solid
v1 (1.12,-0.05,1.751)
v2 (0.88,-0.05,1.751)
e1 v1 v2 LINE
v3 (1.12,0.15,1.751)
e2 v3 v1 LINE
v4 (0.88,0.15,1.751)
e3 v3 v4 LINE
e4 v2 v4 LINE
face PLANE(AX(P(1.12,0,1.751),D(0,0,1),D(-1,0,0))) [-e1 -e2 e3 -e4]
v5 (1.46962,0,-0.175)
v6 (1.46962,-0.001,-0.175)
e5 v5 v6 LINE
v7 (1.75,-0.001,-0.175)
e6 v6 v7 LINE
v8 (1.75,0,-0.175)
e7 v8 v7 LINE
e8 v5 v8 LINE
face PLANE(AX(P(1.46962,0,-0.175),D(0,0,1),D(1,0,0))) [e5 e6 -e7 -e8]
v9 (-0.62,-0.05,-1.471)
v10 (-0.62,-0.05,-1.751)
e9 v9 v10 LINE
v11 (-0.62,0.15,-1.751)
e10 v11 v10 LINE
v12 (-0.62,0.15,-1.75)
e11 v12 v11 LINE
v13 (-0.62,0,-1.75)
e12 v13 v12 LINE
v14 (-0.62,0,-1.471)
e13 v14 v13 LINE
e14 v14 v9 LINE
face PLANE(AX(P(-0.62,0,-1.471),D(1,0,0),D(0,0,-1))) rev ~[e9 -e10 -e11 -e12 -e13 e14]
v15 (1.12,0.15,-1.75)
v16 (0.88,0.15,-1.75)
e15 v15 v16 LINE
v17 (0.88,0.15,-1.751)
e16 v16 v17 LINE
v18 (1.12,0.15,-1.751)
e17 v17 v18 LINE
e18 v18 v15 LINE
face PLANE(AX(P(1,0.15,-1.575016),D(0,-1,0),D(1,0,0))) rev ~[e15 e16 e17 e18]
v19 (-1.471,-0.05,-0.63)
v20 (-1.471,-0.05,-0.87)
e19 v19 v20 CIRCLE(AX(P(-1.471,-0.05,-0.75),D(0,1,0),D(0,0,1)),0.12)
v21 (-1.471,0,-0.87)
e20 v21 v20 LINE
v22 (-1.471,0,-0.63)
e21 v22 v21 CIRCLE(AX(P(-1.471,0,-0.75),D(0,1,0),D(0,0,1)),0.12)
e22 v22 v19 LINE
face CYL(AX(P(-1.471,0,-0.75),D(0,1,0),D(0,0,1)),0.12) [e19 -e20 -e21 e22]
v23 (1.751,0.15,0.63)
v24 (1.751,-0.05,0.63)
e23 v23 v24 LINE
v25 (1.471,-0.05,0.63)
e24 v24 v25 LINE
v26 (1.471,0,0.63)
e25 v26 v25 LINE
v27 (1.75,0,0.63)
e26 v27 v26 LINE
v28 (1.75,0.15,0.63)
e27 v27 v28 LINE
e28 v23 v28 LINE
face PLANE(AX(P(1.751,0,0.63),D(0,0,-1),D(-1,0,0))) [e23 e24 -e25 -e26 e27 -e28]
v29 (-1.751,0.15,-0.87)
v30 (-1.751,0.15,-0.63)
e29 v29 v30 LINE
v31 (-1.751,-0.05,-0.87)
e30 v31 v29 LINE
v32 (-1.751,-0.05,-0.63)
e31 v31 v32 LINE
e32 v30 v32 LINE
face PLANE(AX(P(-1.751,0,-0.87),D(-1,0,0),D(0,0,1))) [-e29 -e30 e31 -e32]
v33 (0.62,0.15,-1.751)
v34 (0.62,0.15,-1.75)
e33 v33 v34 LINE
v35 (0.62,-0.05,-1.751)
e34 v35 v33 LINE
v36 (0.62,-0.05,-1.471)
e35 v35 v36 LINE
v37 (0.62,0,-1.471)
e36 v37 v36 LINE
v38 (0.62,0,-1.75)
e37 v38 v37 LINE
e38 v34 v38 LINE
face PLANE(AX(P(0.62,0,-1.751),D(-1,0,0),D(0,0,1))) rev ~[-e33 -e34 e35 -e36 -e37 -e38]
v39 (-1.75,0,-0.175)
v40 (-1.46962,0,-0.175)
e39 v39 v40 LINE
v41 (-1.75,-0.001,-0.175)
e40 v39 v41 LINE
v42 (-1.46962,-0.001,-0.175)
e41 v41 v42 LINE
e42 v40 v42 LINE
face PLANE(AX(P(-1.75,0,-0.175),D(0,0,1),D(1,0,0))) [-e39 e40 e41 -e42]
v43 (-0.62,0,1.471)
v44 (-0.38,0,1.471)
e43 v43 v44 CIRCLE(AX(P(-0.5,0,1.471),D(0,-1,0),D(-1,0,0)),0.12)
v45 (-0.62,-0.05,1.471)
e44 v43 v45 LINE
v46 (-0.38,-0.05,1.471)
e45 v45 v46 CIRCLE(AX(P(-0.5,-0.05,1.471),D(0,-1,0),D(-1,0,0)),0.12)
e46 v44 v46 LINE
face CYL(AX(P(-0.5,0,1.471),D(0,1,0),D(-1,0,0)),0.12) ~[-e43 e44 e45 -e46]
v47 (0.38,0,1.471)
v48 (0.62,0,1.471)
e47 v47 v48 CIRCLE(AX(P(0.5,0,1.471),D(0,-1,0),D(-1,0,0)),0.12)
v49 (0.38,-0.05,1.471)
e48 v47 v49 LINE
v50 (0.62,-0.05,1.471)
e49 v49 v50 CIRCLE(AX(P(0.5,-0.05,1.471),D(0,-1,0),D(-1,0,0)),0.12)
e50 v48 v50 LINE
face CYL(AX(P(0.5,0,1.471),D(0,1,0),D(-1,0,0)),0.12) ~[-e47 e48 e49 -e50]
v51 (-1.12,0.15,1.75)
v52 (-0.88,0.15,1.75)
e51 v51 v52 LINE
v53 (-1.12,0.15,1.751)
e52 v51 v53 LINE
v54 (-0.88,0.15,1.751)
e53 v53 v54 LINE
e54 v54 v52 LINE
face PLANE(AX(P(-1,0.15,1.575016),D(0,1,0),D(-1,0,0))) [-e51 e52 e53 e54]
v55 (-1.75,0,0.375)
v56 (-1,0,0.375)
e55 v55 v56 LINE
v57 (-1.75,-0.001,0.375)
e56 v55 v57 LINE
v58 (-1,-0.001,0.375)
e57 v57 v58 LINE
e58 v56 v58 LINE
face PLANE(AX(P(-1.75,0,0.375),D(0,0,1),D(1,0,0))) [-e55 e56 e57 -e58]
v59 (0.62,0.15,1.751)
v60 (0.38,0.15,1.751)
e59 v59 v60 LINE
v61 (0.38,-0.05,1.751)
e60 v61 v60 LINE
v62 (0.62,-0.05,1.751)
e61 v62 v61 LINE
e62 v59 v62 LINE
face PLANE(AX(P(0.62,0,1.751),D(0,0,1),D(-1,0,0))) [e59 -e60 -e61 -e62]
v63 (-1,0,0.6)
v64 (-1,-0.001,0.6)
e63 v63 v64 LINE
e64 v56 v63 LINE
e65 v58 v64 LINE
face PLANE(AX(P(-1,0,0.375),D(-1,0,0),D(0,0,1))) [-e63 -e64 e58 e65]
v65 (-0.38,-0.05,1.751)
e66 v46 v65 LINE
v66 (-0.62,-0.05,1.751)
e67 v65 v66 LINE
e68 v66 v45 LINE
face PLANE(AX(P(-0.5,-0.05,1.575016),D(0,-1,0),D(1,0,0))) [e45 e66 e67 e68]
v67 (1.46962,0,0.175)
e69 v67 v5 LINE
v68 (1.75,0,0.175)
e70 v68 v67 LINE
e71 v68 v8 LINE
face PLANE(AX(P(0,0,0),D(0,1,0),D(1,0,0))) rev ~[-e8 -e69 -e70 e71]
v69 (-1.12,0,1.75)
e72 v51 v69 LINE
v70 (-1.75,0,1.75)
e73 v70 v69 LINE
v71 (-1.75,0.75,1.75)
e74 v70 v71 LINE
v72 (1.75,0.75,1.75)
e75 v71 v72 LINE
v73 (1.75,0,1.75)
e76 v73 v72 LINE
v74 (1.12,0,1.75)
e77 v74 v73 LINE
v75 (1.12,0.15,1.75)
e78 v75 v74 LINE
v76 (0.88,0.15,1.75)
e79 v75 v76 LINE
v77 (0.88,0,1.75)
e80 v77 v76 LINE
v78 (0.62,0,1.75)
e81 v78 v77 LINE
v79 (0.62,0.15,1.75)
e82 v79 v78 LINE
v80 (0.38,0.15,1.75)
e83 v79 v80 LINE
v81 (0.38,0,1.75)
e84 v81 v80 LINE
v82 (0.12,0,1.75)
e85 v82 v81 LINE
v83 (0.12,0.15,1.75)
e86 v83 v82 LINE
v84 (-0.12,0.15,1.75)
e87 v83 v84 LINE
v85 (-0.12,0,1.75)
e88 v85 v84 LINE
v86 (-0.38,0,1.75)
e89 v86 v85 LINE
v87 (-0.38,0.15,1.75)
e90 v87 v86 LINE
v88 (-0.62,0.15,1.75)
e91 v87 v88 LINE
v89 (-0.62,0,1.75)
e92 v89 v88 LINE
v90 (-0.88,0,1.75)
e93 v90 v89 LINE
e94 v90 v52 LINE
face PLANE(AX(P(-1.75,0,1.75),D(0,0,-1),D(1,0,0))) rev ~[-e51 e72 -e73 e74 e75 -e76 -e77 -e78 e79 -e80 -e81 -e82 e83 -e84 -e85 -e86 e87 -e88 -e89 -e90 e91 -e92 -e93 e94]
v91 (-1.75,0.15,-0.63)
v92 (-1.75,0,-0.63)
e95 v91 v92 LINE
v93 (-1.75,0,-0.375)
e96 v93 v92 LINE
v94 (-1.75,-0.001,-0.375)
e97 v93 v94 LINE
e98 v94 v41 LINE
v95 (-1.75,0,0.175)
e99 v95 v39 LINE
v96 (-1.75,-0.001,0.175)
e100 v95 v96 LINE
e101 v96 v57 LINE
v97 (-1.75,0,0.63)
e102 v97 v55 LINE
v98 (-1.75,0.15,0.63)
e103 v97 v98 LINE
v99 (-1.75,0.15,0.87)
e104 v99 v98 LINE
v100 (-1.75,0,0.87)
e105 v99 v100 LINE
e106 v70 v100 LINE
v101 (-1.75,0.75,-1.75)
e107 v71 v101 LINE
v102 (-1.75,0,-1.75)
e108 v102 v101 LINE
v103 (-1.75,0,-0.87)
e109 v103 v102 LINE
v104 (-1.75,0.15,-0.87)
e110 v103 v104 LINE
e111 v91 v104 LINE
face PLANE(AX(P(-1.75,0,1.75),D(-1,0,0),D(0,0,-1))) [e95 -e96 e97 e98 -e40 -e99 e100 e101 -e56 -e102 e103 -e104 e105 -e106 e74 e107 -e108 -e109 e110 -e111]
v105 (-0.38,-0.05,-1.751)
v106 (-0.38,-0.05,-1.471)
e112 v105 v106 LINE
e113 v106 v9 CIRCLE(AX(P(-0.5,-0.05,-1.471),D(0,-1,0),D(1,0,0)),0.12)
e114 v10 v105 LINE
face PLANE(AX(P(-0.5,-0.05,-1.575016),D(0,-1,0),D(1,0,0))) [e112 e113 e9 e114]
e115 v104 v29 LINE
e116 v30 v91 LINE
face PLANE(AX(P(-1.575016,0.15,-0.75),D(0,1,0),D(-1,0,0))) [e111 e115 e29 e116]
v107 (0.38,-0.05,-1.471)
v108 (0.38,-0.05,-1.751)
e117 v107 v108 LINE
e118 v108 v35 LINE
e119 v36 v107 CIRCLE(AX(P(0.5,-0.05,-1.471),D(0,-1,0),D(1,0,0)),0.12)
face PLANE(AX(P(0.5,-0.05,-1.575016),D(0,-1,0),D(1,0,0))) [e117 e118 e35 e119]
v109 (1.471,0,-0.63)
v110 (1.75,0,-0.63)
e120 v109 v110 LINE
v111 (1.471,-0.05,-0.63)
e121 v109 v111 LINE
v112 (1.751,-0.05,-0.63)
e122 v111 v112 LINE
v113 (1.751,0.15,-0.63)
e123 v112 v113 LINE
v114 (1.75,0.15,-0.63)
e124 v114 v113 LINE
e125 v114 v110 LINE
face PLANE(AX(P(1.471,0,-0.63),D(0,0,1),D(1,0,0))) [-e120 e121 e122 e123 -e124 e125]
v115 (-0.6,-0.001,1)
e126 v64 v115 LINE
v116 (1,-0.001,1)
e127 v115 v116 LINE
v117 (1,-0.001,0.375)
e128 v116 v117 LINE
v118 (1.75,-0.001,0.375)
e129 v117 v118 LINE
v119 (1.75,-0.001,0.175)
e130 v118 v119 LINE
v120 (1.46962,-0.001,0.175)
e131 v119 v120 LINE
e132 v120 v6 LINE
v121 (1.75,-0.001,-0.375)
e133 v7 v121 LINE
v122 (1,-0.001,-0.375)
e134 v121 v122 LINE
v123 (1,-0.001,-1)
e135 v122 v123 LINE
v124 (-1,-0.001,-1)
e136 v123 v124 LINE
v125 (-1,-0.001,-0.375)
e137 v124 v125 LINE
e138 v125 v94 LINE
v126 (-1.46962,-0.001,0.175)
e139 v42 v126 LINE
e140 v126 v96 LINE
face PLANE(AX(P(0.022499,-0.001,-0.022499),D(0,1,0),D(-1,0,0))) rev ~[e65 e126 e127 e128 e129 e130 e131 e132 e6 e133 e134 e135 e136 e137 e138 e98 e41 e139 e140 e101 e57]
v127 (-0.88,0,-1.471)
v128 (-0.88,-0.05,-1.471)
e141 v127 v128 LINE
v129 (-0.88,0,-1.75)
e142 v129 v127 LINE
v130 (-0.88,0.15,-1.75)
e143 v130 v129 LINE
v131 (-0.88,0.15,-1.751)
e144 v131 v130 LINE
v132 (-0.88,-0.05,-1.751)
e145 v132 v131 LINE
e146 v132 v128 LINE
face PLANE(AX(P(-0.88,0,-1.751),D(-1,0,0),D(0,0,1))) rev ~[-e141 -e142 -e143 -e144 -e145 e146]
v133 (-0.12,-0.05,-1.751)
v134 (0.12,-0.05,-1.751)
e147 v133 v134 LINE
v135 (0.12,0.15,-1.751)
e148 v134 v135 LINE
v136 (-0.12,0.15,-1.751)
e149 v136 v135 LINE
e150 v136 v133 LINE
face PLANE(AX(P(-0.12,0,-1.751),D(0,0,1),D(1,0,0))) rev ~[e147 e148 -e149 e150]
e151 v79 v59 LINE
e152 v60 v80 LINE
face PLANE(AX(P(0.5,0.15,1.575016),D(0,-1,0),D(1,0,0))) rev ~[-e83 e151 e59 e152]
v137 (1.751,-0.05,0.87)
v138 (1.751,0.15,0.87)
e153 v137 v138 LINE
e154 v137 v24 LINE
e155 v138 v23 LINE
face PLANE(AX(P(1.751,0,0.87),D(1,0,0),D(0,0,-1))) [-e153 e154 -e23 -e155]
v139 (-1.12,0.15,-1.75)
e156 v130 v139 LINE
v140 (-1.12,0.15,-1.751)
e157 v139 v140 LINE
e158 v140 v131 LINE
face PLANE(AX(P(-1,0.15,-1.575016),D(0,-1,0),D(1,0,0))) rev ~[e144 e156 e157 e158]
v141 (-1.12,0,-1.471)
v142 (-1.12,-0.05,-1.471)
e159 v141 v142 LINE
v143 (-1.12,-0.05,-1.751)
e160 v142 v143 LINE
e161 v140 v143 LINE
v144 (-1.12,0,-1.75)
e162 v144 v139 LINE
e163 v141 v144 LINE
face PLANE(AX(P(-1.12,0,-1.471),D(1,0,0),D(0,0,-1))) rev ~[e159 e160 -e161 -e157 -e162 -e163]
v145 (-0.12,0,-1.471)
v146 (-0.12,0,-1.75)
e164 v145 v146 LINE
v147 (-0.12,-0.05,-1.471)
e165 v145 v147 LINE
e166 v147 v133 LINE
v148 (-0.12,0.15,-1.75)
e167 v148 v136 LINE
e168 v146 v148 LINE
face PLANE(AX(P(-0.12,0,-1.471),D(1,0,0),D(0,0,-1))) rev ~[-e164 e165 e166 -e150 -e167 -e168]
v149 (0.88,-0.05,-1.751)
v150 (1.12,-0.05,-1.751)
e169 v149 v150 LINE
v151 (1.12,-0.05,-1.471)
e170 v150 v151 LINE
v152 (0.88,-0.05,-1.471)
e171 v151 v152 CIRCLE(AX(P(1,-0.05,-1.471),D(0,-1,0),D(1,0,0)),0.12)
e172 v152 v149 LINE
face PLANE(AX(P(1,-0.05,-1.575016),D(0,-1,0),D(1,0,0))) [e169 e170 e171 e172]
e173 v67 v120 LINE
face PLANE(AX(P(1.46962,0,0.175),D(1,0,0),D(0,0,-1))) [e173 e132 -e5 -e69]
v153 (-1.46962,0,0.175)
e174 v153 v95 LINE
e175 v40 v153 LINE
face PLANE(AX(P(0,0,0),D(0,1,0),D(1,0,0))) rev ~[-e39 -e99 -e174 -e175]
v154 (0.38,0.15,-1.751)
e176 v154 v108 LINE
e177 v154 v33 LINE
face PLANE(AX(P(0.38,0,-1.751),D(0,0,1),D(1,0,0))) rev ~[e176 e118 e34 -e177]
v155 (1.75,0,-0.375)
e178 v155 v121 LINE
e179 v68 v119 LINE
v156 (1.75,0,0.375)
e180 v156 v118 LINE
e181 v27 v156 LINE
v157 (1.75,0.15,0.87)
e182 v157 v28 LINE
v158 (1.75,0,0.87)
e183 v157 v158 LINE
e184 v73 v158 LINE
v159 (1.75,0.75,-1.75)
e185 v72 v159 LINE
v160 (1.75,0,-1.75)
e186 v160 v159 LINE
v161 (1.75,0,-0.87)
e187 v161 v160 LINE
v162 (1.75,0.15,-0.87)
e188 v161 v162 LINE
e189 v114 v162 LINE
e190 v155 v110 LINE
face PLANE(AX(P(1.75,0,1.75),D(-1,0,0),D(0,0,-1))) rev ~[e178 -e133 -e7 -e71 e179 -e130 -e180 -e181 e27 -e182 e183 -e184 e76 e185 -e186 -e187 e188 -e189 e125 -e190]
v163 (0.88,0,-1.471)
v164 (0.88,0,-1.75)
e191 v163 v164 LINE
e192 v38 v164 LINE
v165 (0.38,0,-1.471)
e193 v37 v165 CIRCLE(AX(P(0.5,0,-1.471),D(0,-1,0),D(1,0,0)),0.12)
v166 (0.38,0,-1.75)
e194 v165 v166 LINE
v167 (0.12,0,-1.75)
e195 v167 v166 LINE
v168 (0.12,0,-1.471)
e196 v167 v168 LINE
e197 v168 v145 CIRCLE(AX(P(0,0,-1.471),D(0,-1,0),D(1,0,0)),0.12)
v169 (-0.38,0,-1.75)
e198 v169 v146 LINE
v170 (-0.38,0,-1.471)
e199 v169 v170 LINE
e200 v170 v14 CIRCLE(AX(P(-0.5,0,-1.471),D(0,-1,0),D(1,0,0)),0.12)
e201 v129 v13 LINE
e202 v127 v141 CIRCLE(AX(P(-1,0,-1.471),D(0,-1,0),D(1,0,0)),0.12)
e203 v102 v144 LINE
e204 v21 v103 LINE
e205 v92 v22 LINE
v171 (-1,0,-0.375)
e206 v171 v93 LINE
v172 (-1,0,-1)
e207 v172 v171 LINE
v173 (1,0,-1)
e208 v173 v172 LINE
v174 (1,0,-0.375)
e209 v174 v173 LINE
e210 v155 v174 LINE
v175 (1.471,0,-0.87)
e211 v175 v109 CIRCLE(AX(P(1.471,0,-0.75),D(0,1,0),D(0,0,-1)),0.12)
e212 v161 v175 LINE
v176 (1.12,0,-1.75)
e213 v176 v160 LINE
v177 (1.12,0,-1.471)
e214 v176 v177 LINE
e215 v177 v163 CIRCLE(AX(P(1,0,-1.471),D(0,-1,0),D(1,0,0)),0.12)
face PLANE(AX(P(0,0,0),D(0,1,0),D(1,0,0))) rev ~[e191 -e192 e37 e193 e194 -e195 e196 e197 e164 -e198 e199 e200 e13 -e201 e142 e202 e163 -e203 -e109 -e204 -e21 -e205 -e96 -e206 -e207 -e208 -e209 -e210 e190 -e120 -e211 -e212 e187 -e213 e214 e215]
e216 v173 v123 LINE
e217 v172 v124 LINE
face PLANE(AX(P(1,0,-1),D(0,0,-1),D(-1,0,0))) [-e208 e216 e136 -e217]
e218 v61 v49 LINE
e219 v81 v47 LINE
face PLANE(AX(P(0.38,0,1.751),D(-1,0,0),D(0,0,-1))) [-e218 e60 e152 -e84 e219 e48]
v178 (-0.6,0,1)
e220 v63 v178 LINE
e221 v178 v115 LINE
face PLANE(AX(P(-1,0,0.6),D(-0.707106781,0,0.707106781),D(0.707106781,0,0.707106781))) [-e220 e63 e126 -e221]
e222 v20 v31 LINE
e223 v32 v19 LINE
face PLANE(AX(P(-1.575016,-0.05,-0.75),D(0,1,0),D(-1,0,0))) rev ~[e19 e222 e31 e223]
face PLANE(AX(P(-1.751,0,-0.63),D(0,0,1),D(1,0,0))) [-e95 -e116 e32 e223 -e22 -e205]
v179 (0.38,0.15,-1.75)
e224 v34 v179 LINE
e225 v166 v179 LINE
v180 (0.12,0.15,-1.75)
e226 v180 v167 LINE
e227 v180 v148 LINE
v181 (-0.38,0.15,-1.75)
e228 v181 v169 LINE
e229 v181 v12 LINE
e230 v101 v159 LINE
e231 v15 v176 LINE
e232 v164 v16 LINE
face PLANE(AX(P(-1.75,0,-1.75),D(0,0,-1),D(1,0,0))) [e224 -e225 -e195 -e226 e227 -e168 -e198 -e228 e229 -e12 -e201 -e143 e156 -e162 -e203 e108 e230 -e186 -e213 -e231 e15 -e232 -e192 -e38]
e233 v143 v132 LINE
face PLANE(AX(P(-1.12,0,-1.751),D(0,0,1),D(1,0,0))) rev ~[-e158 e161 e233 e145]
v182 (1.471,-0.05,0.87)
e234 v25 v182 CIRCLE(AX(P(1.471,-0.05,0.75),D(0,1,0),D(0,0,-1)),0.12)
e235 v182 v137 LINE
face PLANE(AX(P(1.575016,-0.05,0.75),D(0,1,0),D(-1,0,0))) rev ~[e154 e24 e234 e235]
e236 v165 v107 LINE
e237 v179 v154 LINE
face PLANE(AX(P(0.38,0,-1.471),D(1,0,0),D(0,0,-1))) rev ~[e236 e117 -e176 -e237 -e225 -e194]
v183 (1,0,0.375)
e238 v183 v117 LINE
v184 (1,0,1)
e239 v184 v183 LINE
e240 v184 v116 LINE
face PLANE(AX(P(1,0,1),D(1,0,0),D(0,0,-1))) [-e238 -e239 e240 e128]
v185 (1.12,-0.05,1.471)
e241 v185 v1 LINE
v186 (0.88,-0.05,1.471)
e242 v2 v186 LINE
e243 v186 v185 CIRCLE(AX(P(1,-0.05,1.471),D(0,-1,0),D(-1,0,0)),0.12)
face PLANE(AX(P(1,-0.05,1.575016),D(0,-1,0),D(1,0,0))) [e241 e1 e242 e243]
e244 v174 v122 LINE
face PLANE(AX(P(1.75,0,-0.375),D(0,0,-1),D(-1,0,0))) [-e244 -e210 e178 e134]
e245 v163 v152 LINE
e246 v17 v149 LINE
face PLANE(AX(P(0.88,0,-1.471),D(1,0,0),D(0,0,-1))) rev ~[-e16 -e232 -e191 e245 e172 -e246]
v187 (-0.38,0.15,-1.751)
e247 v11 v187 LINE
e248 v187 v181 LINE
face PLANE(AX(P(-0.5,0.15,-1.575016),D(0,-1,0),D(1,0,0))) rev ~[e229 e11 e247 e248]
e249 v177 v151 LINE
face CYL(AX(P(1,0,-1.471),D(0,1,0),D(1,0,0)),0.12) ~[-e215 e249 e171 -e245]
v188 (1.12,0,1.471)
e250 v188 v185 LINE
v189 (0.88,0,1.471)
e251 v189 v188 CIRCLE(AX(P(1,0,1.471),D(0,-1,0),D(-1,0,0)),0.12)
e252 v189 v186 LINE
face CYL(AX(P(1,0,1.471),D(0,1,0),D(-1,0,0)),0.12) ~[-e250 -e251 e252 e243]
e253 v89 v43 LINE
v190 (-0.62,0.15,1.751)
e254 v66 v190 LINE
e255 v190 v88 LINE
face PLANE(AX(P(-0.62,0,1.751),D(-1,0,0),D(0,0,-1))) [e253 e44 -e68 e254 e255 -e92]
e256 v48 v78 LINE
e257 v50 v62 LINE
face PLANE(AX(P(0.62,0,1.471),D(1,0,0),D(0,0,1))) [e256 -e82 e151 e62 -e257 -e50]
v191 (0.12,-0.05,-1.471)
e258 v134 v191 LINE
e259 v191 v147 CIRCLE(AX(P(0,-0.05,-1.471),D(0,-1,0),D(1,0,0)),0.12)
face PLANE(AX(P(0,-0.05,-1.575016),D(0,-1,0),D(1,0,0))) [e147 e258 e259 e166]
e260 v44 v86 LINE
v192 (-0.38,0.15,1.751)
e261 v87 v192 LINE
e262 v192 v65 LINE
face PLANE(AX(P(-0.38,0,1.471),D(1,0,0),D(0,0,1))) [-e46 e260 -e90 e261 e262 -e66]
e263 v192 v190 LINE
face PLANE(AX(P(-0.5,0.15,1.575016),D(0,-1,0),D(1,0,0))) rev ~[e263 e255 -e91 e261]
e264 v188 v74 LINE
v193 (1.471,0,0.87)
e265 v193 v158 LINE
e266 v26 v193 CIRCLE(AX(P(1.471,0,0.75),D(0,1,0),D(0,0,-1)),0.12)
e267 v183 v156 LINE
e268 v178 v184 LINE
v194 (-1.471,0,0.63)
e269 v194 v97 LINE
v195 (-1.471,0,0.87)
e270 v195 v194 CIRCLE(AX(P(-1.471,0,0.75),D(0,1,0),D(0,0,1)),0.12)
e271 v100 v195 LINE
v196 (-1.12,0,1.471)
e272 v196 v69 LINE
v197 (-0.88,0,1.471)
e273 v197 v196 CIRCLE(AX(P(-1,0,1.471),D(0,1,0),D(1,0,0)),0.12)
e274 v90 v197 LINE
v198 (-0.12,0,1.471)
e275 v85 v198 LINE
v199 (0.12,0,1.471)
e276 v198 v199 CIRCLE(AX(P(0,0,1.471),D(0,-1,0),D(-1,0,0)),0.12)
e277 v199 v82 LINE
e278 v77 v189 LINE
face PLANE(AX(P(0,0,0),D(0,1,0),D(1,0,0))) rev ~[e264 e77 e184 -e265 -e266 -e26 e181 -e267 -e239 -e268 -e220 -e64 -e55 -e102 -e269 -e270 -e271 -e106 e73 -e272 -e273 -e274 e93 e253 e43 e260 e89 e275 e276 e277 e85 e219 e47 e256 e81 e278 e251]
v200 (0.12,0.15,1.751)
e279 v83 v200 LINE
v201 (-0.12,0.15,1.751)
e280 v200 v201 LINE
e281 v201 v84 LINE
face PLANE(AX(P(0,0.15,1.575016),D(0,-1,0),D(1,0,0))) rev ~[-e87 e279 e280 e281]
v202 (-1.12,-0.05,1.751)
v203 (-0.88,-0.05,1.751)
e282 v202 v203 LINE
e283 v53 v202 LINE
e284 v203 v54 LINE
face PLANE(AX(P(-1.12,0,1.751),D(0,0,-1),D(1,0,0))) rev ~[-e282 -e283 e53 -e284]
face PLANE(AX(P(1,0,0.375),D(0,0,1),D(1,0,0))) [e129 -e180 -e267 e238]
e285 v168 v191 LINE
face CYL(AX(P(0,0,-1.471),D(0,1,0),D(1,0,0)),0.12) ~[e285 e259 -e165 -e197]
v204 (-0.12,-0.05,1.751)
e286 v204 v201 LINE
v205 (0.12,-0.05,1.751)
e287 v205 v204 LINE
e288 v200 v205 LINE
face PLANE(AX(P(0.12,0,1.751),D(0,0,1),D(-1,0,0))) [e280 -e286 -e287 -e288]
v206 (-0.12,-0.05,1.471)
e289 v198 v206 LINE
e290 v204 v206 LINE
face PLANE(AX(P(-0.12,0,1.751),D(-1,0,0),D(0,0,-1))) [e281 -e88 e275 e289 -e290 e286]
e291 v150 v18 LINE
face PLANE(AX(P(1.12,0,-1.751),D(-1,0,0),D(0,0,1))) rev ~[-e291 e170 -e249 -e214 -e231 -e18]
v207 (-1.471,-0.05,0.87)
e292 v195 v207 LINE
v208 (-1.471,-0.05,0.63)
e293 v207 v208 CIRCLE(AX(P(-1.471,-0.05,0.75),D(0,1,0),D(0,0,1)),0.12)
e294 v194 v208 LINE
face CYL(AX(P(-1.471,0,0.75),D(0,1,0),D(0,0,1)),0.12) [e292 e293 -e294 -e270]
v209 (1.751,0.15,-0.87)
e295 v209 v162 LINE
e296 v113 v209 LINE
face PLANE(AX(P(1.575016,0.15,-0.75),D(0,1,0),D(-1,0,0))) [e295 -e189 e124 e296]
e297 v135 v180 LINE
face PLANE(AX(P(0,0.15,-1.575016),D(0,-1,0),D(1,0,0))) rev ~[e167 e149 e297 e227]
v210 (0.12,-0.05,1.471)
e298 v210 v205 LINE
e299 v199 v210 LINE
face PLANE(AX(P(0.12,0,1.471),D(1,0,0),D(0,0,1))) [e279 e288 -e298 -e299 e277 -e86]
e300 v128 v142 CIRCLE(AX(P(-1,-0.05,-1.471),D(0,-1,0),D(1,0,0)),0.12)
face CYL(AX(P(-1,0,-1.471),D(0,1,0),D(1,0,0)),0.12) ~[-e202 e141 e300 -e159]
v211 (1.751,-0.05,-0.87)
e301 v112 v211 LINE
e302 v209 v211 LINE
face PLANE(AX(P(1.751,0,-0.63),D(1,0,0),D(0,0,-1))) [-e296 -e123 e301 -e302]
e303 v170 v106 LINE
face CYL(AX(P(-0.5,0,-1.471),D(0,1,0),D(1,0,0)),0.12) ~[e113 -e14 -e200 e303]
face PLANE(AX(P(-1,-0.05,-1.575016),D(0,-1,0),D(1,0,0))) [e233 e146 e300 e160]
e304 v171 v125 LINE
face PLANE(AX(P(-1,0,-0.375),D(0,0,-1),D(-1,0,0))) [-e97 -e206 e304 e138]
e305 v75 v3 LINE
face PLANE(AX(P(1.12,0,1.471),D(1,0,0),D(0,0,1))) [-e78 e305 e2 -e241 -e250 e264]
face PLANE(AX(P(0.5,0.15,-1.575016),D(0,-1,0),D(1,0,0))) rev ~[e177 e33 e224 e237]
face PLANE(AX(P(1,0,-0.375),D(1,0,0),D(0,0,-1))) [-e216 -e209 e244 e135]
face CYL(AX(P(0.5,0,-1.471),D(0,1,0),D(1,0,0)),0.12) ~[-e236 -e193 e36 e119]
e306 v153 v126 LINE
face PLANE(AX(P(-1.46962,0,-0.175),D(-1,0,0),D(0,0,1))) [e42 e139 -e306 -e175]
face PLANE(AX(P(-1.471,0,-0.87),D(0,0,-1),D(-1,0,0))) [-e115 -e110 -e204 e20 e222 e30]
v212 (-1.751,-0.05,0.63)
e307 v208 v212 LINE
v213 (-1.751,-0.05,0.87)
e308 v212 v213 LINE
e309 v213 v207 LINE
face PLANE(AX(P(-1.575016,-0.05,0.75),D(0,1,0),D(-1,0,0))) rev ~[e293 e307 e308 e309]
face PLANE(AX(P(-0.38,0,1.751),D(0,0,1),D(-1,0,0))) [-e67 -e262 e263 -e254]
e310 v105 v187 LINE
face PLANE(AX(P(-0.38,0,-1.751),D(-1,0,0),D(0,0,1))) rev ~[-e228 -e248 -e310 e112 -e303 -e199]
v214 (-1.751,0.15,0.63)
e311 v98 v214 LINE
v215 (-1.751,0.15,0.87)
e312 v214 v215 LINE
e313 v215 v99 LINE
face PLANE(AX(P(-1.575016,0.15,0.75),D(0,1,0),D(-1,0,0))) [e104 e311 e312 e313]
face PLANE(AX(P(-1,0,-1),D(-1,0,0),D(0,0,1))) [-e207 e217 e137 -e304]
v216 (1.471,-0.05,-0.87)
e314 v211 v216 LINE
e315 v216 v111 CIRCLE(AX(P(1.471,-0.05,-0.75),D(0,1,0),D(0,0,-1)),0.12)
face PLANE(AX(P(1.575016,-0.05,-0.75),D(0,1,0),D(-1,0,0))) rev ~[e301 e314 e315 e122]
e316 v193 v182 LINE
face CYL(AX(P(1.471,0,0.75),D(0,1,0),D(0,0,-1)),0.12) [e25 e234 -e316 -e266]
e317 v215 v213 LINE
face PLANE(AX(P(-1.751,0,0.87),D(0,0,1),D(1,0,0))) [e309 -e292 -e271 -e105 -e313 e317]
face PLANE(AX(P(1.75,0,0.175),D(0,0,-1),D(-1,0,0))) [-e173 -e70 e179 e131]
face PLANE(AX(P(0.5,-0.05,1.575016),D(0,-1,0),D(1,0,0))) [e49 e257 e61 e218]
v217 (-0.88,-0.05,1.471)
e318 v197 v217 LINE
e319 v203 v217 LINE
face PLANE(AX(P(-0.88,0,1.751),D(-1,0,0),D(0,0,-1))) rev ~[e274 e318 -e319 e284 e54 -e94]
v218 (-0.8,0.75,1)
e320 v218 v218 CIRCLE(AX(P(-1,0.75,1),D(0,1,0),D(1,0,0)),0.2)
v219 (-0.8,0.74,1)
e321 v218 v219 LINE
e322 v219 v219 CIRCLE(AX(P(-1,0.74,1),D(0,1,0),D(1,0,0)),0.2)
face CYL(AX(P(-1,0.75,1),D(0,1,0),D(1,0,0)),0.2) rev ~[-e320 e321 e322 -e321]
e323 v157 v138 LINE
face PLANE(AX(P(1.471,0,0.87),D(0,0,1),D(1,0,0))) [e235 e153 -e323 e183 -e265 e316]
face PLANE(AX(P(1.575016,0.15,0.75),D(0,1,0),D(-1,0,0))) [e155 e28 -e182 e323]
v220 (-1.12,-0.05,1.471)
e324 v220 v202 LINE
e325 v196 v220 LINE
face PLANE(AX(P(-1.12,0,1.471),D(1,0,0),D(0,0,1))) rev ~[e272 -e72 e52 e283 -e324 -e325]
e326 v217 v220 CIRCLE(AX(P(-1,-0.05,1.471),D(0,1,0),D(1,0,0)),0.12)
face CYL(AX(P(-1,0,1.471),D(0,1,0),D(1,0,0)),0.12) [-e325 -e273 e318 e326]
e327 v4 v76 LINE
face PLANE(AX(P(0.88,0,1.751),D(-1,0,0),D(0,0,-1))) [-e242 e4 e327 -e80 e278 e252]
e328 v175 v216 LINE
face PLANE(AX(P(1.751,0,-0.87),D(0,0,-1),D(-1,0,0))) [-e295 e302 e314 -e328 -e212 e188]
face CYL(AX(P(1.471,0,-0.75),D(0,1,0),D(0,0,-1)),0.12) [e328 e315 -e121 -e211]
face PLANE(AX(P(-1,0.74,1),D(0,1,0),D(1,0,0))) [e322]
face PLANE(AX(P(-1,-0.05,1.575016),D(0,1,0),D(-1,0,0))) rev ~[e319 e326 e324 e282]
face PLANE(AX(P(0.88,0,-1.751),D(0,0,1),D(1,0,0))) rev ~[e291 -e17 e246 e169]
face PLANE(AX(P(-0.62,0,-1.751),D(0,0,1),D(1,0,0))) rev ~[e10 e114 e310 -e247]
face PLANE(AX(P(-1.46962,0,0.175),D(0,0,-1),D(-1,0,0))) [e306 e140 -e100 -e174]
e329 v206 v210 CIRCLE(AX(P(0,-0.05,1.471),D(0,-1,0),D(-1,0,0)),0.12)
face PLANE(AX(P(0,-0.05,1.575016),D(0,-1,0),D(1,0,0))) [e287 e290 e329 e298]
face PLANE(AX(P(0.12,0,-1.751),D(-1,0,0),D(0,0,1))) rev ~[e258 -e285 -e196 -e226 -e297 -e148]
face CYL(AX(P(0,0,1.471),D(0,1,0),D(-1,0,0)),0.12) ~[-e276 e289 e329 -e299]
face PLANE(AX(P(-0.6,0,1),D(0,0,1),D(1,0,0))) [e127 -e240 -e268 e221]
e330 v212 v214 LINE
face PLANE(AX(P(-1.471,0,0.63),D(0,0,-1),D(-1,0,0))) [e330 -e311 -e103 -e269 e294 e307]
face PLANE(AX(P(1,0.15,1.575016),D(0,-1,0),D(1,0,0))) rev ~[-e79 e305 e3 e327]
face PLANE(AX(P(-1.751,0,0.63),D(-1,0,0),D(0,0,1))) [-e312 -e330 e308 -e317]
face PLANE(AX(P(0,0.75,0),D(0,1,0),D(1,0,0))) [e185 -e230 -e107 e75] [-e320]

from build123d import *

# Parameters (mm, degrees)
SKETCH1_W                = 3.5
SKETCH1_H                = 3.5
BOSS_EXTRUDE1_DEPTH      = 0.75
SKETCH2_R                = 0.2
CUT_EXTRUDE1_DEPTH       = 0.01
BOSS_EXTRUDE2_DEPTH      = 0.05
BOSS_EXTRUDE2_DEPTH_BACK = 0.15
BOSS_EXTRUDE3_DEPTH      = 0.001


with BuildPart() as part:
    # Sketch1 → Boss-Extrude1 (new body)
    with BuildSketch(Plane(origin=(0, 0, 0), x_dir=(1, 0, 0), z_dir=(0, 1, 0))):
        Rectangle(SKETCH1_W, SKETCH1_H)
    extrude(amount=BOSS_EXTRUDE1_DEPTH)

    # Sketch2 → Cut-Extrude1 (cut)
    with BuildSketch(Plane(origin=(0, 0.75, 0), x_dir=(1, 0, 0), z_dir=(0, 1, 0))):
        with Locations((-1, -1)):
            Circle(SKETCH2_R)
    extrude(amount=-CUT_EXTRUDE1_DEPTH, mode=Mode.SUBTRACT)

    # Sketch3 → Boss-Extrude2 (add, two sides)
    with BuildSketch(Plane.XZ) as boss_extrude2_sk:
        with BuildLine():
            Line((-1.12, 1.751), (-0.88, 1.751))
            Line((-0.88, 1.751), (-0.88, 1.471))
            ThreePointArc((-0.88, 1.471), (-1, 1.351), (-1.12, 1.471))
            Line((-1.12, 1.471), (-1.12, 1.751))
        make_face()
        with BuildLine():
            Line((-1.751, 0.63), (-1.751, 0.87))
            Line((-1.751, 0.87), (-1.471, 0.87))
            ThreePointArc((-1.471, 0.87), (-1.351, 0.75), (-1.471, 0.63))
            Line((-1.471, 0.63), (-1.751, 0.63))
        make_face()
        with BuildLine():
            Line((-0.62, 1.751), (-0.62, 1.471))
            ThreePointArc((-0.62, 1.471), (-0.5, 1.351), (-0.38, 1.471))
            Line((-0.38, 1.471), (-0.38, 1.751))
            Line((-0.38, 1.751), (-0.62, 1.751))
        make_face()
        with BuildLine():
            Line((-0.12, 1.751), (-0.12, 1.471))
            ThreePointArc((-0.12, 1.471), (0, 1.351), (0.12, 1.471))
            Line((0.12, 1.471), (0.12, 1.751))
            Line((0.12, 1.751), (-0.12, 1.751))
        make_face()
        with BuildLine():
            Line((0.38, 1.751), (0.38, 1.471))
            ThreePointArc((0.38, 1.471), (0.5, 1.351), (0.62, 1.471))
            Line((0.62, 1.471), (0.62, 1.751))
            Line((0.62, 1.751), (0.38, 1.751))
        make_face()
        with BuildLine():
            Line((0.88, 1.751), (0.88, 1.471))
            ThreePointArc((0.88, 1.471), (1, 1.351), (1.12, 1.471))
            Line((1.12, 1.471), (1.12, 1.751))
            Line((1.12, 1.751), (0.88, 1.751))
        make_face()
        with BuildLine():
            Line((1.751, -0.63), (1.751, -0.87))
            Line((1.751, -0.87), (1.471, -0.87))
            ThreePointArc((1.471, -0.87), (1.351, -0.75), (1.471, -0.63))
            Line((1.471, -0.63), (1.751, -0.63))
        make_face()
        with BuildLine():
            Line((0.88, -1.751), (1.12, -1.751))
            Line((1.12, -1.751), (1.12, -1.471))
            ThreePointArc((1.12, -1.471), (1, -1.351), (0.88, -1.471))
            Line((0.88, -1.471), (0.88, -1.751))
        make_face()
        with BuildLine():
            Line((0.38, -1.751), (0.62, -1.751))
            Line((0.62, -1.751), (0.62, -1.471))
            ThreePointArc((0.62, -1.471), (0.5, -1.351), (0.38, -1.471))
            Line((0.38, -1.471), (0.38, -1.751))
        make_face()
        with BuildLine():
            Line((-0.12, -1.751), (0.12, -1.751))
            Line((0.12, -1.751), (0.12, -1.471))
            ThreePointArc((0.12, -1.471), (0, -1.351), (-0.12, -1.471))
            Line((-0.12, -1.471), (-0.12, -1.751))
        make_face()
        with BuildLine():
            Line((-0.62, -1.751), (-0.38, -1.751))
            Line((-0.38, -1.751), (-0.38, -1.471))
            ThreePointArc((-0.38, -1.471), (-0.5, -1.351), (-0.62, -1.471))
            Line((-0.62, -1.471), (-0.62, -1.751))
        make_face()
        with BuildLine():
            Line((-1.751, -0.63), (-1.471, -0.63))
            ThreePointArc((-1.471, -0.63), (-1.351, -0.75), (-1.471, -0.87))
            Line((-1.471, -0.87), (-1.751, -0.87))
            Line((-1.751, -0.87), (-1.751, -0.63))
        make_face()
        with BuildLine():
            Line((-0.88, -1.751), (-0.88, -1.471))
            ThreePointArc((-0.88, -1.471), (-1, -1.351), (-1.12, -1.471))
            Line((-1.12, -1.471), (-1.12, -1.751))
            Line((-1.12, -1.751), (-0.88, -1.751))
        make_face()
        with BuildLine():
            Line((1.751, 0.63), (1.471, 0.63))
            ThreePointArc((1.471, 0.63), (1.351, 0.75), (1.471, 0.87))
            Line((1.471, 0.87), (1.751, 0.87))
            Line((1.751, 0.87), (1.751, 0.63))
        make_face()
    extrude(amount=BOSS_EXTRUDE2_DEPTH)
    extrude(boss_extrude2_sk.sketch, amount=-BOSS_EXTRUDE2_DEPTH_BACK)

    # Sketch4 → Boss-Extrude3 (add)
    with BuildSketch(Plane.XZ):
        Polygon((-1, 0.6), (-0.6, 1), (1, 1), (1, 0.375), (1.75, 0.375), (1.75, 0.175), (1.469620109, 0.175), (1.469620109, -0.175), (1.75, -0.175), (1.75, -0.375), (1, -0.375), (1, -1), (-1, -1), (-1, -0.375), (-1.75, -0.375), (-1.75, -0.175), (-1.469620109, -0.175), (-1.469620109, 0.175), (-1.75, 0.175), (-1.75, 0.375), (-1, 0.375), align=None)
    extrude(amount=BOSS_EXTRUDE3_DEPTH)


solid = part.part
